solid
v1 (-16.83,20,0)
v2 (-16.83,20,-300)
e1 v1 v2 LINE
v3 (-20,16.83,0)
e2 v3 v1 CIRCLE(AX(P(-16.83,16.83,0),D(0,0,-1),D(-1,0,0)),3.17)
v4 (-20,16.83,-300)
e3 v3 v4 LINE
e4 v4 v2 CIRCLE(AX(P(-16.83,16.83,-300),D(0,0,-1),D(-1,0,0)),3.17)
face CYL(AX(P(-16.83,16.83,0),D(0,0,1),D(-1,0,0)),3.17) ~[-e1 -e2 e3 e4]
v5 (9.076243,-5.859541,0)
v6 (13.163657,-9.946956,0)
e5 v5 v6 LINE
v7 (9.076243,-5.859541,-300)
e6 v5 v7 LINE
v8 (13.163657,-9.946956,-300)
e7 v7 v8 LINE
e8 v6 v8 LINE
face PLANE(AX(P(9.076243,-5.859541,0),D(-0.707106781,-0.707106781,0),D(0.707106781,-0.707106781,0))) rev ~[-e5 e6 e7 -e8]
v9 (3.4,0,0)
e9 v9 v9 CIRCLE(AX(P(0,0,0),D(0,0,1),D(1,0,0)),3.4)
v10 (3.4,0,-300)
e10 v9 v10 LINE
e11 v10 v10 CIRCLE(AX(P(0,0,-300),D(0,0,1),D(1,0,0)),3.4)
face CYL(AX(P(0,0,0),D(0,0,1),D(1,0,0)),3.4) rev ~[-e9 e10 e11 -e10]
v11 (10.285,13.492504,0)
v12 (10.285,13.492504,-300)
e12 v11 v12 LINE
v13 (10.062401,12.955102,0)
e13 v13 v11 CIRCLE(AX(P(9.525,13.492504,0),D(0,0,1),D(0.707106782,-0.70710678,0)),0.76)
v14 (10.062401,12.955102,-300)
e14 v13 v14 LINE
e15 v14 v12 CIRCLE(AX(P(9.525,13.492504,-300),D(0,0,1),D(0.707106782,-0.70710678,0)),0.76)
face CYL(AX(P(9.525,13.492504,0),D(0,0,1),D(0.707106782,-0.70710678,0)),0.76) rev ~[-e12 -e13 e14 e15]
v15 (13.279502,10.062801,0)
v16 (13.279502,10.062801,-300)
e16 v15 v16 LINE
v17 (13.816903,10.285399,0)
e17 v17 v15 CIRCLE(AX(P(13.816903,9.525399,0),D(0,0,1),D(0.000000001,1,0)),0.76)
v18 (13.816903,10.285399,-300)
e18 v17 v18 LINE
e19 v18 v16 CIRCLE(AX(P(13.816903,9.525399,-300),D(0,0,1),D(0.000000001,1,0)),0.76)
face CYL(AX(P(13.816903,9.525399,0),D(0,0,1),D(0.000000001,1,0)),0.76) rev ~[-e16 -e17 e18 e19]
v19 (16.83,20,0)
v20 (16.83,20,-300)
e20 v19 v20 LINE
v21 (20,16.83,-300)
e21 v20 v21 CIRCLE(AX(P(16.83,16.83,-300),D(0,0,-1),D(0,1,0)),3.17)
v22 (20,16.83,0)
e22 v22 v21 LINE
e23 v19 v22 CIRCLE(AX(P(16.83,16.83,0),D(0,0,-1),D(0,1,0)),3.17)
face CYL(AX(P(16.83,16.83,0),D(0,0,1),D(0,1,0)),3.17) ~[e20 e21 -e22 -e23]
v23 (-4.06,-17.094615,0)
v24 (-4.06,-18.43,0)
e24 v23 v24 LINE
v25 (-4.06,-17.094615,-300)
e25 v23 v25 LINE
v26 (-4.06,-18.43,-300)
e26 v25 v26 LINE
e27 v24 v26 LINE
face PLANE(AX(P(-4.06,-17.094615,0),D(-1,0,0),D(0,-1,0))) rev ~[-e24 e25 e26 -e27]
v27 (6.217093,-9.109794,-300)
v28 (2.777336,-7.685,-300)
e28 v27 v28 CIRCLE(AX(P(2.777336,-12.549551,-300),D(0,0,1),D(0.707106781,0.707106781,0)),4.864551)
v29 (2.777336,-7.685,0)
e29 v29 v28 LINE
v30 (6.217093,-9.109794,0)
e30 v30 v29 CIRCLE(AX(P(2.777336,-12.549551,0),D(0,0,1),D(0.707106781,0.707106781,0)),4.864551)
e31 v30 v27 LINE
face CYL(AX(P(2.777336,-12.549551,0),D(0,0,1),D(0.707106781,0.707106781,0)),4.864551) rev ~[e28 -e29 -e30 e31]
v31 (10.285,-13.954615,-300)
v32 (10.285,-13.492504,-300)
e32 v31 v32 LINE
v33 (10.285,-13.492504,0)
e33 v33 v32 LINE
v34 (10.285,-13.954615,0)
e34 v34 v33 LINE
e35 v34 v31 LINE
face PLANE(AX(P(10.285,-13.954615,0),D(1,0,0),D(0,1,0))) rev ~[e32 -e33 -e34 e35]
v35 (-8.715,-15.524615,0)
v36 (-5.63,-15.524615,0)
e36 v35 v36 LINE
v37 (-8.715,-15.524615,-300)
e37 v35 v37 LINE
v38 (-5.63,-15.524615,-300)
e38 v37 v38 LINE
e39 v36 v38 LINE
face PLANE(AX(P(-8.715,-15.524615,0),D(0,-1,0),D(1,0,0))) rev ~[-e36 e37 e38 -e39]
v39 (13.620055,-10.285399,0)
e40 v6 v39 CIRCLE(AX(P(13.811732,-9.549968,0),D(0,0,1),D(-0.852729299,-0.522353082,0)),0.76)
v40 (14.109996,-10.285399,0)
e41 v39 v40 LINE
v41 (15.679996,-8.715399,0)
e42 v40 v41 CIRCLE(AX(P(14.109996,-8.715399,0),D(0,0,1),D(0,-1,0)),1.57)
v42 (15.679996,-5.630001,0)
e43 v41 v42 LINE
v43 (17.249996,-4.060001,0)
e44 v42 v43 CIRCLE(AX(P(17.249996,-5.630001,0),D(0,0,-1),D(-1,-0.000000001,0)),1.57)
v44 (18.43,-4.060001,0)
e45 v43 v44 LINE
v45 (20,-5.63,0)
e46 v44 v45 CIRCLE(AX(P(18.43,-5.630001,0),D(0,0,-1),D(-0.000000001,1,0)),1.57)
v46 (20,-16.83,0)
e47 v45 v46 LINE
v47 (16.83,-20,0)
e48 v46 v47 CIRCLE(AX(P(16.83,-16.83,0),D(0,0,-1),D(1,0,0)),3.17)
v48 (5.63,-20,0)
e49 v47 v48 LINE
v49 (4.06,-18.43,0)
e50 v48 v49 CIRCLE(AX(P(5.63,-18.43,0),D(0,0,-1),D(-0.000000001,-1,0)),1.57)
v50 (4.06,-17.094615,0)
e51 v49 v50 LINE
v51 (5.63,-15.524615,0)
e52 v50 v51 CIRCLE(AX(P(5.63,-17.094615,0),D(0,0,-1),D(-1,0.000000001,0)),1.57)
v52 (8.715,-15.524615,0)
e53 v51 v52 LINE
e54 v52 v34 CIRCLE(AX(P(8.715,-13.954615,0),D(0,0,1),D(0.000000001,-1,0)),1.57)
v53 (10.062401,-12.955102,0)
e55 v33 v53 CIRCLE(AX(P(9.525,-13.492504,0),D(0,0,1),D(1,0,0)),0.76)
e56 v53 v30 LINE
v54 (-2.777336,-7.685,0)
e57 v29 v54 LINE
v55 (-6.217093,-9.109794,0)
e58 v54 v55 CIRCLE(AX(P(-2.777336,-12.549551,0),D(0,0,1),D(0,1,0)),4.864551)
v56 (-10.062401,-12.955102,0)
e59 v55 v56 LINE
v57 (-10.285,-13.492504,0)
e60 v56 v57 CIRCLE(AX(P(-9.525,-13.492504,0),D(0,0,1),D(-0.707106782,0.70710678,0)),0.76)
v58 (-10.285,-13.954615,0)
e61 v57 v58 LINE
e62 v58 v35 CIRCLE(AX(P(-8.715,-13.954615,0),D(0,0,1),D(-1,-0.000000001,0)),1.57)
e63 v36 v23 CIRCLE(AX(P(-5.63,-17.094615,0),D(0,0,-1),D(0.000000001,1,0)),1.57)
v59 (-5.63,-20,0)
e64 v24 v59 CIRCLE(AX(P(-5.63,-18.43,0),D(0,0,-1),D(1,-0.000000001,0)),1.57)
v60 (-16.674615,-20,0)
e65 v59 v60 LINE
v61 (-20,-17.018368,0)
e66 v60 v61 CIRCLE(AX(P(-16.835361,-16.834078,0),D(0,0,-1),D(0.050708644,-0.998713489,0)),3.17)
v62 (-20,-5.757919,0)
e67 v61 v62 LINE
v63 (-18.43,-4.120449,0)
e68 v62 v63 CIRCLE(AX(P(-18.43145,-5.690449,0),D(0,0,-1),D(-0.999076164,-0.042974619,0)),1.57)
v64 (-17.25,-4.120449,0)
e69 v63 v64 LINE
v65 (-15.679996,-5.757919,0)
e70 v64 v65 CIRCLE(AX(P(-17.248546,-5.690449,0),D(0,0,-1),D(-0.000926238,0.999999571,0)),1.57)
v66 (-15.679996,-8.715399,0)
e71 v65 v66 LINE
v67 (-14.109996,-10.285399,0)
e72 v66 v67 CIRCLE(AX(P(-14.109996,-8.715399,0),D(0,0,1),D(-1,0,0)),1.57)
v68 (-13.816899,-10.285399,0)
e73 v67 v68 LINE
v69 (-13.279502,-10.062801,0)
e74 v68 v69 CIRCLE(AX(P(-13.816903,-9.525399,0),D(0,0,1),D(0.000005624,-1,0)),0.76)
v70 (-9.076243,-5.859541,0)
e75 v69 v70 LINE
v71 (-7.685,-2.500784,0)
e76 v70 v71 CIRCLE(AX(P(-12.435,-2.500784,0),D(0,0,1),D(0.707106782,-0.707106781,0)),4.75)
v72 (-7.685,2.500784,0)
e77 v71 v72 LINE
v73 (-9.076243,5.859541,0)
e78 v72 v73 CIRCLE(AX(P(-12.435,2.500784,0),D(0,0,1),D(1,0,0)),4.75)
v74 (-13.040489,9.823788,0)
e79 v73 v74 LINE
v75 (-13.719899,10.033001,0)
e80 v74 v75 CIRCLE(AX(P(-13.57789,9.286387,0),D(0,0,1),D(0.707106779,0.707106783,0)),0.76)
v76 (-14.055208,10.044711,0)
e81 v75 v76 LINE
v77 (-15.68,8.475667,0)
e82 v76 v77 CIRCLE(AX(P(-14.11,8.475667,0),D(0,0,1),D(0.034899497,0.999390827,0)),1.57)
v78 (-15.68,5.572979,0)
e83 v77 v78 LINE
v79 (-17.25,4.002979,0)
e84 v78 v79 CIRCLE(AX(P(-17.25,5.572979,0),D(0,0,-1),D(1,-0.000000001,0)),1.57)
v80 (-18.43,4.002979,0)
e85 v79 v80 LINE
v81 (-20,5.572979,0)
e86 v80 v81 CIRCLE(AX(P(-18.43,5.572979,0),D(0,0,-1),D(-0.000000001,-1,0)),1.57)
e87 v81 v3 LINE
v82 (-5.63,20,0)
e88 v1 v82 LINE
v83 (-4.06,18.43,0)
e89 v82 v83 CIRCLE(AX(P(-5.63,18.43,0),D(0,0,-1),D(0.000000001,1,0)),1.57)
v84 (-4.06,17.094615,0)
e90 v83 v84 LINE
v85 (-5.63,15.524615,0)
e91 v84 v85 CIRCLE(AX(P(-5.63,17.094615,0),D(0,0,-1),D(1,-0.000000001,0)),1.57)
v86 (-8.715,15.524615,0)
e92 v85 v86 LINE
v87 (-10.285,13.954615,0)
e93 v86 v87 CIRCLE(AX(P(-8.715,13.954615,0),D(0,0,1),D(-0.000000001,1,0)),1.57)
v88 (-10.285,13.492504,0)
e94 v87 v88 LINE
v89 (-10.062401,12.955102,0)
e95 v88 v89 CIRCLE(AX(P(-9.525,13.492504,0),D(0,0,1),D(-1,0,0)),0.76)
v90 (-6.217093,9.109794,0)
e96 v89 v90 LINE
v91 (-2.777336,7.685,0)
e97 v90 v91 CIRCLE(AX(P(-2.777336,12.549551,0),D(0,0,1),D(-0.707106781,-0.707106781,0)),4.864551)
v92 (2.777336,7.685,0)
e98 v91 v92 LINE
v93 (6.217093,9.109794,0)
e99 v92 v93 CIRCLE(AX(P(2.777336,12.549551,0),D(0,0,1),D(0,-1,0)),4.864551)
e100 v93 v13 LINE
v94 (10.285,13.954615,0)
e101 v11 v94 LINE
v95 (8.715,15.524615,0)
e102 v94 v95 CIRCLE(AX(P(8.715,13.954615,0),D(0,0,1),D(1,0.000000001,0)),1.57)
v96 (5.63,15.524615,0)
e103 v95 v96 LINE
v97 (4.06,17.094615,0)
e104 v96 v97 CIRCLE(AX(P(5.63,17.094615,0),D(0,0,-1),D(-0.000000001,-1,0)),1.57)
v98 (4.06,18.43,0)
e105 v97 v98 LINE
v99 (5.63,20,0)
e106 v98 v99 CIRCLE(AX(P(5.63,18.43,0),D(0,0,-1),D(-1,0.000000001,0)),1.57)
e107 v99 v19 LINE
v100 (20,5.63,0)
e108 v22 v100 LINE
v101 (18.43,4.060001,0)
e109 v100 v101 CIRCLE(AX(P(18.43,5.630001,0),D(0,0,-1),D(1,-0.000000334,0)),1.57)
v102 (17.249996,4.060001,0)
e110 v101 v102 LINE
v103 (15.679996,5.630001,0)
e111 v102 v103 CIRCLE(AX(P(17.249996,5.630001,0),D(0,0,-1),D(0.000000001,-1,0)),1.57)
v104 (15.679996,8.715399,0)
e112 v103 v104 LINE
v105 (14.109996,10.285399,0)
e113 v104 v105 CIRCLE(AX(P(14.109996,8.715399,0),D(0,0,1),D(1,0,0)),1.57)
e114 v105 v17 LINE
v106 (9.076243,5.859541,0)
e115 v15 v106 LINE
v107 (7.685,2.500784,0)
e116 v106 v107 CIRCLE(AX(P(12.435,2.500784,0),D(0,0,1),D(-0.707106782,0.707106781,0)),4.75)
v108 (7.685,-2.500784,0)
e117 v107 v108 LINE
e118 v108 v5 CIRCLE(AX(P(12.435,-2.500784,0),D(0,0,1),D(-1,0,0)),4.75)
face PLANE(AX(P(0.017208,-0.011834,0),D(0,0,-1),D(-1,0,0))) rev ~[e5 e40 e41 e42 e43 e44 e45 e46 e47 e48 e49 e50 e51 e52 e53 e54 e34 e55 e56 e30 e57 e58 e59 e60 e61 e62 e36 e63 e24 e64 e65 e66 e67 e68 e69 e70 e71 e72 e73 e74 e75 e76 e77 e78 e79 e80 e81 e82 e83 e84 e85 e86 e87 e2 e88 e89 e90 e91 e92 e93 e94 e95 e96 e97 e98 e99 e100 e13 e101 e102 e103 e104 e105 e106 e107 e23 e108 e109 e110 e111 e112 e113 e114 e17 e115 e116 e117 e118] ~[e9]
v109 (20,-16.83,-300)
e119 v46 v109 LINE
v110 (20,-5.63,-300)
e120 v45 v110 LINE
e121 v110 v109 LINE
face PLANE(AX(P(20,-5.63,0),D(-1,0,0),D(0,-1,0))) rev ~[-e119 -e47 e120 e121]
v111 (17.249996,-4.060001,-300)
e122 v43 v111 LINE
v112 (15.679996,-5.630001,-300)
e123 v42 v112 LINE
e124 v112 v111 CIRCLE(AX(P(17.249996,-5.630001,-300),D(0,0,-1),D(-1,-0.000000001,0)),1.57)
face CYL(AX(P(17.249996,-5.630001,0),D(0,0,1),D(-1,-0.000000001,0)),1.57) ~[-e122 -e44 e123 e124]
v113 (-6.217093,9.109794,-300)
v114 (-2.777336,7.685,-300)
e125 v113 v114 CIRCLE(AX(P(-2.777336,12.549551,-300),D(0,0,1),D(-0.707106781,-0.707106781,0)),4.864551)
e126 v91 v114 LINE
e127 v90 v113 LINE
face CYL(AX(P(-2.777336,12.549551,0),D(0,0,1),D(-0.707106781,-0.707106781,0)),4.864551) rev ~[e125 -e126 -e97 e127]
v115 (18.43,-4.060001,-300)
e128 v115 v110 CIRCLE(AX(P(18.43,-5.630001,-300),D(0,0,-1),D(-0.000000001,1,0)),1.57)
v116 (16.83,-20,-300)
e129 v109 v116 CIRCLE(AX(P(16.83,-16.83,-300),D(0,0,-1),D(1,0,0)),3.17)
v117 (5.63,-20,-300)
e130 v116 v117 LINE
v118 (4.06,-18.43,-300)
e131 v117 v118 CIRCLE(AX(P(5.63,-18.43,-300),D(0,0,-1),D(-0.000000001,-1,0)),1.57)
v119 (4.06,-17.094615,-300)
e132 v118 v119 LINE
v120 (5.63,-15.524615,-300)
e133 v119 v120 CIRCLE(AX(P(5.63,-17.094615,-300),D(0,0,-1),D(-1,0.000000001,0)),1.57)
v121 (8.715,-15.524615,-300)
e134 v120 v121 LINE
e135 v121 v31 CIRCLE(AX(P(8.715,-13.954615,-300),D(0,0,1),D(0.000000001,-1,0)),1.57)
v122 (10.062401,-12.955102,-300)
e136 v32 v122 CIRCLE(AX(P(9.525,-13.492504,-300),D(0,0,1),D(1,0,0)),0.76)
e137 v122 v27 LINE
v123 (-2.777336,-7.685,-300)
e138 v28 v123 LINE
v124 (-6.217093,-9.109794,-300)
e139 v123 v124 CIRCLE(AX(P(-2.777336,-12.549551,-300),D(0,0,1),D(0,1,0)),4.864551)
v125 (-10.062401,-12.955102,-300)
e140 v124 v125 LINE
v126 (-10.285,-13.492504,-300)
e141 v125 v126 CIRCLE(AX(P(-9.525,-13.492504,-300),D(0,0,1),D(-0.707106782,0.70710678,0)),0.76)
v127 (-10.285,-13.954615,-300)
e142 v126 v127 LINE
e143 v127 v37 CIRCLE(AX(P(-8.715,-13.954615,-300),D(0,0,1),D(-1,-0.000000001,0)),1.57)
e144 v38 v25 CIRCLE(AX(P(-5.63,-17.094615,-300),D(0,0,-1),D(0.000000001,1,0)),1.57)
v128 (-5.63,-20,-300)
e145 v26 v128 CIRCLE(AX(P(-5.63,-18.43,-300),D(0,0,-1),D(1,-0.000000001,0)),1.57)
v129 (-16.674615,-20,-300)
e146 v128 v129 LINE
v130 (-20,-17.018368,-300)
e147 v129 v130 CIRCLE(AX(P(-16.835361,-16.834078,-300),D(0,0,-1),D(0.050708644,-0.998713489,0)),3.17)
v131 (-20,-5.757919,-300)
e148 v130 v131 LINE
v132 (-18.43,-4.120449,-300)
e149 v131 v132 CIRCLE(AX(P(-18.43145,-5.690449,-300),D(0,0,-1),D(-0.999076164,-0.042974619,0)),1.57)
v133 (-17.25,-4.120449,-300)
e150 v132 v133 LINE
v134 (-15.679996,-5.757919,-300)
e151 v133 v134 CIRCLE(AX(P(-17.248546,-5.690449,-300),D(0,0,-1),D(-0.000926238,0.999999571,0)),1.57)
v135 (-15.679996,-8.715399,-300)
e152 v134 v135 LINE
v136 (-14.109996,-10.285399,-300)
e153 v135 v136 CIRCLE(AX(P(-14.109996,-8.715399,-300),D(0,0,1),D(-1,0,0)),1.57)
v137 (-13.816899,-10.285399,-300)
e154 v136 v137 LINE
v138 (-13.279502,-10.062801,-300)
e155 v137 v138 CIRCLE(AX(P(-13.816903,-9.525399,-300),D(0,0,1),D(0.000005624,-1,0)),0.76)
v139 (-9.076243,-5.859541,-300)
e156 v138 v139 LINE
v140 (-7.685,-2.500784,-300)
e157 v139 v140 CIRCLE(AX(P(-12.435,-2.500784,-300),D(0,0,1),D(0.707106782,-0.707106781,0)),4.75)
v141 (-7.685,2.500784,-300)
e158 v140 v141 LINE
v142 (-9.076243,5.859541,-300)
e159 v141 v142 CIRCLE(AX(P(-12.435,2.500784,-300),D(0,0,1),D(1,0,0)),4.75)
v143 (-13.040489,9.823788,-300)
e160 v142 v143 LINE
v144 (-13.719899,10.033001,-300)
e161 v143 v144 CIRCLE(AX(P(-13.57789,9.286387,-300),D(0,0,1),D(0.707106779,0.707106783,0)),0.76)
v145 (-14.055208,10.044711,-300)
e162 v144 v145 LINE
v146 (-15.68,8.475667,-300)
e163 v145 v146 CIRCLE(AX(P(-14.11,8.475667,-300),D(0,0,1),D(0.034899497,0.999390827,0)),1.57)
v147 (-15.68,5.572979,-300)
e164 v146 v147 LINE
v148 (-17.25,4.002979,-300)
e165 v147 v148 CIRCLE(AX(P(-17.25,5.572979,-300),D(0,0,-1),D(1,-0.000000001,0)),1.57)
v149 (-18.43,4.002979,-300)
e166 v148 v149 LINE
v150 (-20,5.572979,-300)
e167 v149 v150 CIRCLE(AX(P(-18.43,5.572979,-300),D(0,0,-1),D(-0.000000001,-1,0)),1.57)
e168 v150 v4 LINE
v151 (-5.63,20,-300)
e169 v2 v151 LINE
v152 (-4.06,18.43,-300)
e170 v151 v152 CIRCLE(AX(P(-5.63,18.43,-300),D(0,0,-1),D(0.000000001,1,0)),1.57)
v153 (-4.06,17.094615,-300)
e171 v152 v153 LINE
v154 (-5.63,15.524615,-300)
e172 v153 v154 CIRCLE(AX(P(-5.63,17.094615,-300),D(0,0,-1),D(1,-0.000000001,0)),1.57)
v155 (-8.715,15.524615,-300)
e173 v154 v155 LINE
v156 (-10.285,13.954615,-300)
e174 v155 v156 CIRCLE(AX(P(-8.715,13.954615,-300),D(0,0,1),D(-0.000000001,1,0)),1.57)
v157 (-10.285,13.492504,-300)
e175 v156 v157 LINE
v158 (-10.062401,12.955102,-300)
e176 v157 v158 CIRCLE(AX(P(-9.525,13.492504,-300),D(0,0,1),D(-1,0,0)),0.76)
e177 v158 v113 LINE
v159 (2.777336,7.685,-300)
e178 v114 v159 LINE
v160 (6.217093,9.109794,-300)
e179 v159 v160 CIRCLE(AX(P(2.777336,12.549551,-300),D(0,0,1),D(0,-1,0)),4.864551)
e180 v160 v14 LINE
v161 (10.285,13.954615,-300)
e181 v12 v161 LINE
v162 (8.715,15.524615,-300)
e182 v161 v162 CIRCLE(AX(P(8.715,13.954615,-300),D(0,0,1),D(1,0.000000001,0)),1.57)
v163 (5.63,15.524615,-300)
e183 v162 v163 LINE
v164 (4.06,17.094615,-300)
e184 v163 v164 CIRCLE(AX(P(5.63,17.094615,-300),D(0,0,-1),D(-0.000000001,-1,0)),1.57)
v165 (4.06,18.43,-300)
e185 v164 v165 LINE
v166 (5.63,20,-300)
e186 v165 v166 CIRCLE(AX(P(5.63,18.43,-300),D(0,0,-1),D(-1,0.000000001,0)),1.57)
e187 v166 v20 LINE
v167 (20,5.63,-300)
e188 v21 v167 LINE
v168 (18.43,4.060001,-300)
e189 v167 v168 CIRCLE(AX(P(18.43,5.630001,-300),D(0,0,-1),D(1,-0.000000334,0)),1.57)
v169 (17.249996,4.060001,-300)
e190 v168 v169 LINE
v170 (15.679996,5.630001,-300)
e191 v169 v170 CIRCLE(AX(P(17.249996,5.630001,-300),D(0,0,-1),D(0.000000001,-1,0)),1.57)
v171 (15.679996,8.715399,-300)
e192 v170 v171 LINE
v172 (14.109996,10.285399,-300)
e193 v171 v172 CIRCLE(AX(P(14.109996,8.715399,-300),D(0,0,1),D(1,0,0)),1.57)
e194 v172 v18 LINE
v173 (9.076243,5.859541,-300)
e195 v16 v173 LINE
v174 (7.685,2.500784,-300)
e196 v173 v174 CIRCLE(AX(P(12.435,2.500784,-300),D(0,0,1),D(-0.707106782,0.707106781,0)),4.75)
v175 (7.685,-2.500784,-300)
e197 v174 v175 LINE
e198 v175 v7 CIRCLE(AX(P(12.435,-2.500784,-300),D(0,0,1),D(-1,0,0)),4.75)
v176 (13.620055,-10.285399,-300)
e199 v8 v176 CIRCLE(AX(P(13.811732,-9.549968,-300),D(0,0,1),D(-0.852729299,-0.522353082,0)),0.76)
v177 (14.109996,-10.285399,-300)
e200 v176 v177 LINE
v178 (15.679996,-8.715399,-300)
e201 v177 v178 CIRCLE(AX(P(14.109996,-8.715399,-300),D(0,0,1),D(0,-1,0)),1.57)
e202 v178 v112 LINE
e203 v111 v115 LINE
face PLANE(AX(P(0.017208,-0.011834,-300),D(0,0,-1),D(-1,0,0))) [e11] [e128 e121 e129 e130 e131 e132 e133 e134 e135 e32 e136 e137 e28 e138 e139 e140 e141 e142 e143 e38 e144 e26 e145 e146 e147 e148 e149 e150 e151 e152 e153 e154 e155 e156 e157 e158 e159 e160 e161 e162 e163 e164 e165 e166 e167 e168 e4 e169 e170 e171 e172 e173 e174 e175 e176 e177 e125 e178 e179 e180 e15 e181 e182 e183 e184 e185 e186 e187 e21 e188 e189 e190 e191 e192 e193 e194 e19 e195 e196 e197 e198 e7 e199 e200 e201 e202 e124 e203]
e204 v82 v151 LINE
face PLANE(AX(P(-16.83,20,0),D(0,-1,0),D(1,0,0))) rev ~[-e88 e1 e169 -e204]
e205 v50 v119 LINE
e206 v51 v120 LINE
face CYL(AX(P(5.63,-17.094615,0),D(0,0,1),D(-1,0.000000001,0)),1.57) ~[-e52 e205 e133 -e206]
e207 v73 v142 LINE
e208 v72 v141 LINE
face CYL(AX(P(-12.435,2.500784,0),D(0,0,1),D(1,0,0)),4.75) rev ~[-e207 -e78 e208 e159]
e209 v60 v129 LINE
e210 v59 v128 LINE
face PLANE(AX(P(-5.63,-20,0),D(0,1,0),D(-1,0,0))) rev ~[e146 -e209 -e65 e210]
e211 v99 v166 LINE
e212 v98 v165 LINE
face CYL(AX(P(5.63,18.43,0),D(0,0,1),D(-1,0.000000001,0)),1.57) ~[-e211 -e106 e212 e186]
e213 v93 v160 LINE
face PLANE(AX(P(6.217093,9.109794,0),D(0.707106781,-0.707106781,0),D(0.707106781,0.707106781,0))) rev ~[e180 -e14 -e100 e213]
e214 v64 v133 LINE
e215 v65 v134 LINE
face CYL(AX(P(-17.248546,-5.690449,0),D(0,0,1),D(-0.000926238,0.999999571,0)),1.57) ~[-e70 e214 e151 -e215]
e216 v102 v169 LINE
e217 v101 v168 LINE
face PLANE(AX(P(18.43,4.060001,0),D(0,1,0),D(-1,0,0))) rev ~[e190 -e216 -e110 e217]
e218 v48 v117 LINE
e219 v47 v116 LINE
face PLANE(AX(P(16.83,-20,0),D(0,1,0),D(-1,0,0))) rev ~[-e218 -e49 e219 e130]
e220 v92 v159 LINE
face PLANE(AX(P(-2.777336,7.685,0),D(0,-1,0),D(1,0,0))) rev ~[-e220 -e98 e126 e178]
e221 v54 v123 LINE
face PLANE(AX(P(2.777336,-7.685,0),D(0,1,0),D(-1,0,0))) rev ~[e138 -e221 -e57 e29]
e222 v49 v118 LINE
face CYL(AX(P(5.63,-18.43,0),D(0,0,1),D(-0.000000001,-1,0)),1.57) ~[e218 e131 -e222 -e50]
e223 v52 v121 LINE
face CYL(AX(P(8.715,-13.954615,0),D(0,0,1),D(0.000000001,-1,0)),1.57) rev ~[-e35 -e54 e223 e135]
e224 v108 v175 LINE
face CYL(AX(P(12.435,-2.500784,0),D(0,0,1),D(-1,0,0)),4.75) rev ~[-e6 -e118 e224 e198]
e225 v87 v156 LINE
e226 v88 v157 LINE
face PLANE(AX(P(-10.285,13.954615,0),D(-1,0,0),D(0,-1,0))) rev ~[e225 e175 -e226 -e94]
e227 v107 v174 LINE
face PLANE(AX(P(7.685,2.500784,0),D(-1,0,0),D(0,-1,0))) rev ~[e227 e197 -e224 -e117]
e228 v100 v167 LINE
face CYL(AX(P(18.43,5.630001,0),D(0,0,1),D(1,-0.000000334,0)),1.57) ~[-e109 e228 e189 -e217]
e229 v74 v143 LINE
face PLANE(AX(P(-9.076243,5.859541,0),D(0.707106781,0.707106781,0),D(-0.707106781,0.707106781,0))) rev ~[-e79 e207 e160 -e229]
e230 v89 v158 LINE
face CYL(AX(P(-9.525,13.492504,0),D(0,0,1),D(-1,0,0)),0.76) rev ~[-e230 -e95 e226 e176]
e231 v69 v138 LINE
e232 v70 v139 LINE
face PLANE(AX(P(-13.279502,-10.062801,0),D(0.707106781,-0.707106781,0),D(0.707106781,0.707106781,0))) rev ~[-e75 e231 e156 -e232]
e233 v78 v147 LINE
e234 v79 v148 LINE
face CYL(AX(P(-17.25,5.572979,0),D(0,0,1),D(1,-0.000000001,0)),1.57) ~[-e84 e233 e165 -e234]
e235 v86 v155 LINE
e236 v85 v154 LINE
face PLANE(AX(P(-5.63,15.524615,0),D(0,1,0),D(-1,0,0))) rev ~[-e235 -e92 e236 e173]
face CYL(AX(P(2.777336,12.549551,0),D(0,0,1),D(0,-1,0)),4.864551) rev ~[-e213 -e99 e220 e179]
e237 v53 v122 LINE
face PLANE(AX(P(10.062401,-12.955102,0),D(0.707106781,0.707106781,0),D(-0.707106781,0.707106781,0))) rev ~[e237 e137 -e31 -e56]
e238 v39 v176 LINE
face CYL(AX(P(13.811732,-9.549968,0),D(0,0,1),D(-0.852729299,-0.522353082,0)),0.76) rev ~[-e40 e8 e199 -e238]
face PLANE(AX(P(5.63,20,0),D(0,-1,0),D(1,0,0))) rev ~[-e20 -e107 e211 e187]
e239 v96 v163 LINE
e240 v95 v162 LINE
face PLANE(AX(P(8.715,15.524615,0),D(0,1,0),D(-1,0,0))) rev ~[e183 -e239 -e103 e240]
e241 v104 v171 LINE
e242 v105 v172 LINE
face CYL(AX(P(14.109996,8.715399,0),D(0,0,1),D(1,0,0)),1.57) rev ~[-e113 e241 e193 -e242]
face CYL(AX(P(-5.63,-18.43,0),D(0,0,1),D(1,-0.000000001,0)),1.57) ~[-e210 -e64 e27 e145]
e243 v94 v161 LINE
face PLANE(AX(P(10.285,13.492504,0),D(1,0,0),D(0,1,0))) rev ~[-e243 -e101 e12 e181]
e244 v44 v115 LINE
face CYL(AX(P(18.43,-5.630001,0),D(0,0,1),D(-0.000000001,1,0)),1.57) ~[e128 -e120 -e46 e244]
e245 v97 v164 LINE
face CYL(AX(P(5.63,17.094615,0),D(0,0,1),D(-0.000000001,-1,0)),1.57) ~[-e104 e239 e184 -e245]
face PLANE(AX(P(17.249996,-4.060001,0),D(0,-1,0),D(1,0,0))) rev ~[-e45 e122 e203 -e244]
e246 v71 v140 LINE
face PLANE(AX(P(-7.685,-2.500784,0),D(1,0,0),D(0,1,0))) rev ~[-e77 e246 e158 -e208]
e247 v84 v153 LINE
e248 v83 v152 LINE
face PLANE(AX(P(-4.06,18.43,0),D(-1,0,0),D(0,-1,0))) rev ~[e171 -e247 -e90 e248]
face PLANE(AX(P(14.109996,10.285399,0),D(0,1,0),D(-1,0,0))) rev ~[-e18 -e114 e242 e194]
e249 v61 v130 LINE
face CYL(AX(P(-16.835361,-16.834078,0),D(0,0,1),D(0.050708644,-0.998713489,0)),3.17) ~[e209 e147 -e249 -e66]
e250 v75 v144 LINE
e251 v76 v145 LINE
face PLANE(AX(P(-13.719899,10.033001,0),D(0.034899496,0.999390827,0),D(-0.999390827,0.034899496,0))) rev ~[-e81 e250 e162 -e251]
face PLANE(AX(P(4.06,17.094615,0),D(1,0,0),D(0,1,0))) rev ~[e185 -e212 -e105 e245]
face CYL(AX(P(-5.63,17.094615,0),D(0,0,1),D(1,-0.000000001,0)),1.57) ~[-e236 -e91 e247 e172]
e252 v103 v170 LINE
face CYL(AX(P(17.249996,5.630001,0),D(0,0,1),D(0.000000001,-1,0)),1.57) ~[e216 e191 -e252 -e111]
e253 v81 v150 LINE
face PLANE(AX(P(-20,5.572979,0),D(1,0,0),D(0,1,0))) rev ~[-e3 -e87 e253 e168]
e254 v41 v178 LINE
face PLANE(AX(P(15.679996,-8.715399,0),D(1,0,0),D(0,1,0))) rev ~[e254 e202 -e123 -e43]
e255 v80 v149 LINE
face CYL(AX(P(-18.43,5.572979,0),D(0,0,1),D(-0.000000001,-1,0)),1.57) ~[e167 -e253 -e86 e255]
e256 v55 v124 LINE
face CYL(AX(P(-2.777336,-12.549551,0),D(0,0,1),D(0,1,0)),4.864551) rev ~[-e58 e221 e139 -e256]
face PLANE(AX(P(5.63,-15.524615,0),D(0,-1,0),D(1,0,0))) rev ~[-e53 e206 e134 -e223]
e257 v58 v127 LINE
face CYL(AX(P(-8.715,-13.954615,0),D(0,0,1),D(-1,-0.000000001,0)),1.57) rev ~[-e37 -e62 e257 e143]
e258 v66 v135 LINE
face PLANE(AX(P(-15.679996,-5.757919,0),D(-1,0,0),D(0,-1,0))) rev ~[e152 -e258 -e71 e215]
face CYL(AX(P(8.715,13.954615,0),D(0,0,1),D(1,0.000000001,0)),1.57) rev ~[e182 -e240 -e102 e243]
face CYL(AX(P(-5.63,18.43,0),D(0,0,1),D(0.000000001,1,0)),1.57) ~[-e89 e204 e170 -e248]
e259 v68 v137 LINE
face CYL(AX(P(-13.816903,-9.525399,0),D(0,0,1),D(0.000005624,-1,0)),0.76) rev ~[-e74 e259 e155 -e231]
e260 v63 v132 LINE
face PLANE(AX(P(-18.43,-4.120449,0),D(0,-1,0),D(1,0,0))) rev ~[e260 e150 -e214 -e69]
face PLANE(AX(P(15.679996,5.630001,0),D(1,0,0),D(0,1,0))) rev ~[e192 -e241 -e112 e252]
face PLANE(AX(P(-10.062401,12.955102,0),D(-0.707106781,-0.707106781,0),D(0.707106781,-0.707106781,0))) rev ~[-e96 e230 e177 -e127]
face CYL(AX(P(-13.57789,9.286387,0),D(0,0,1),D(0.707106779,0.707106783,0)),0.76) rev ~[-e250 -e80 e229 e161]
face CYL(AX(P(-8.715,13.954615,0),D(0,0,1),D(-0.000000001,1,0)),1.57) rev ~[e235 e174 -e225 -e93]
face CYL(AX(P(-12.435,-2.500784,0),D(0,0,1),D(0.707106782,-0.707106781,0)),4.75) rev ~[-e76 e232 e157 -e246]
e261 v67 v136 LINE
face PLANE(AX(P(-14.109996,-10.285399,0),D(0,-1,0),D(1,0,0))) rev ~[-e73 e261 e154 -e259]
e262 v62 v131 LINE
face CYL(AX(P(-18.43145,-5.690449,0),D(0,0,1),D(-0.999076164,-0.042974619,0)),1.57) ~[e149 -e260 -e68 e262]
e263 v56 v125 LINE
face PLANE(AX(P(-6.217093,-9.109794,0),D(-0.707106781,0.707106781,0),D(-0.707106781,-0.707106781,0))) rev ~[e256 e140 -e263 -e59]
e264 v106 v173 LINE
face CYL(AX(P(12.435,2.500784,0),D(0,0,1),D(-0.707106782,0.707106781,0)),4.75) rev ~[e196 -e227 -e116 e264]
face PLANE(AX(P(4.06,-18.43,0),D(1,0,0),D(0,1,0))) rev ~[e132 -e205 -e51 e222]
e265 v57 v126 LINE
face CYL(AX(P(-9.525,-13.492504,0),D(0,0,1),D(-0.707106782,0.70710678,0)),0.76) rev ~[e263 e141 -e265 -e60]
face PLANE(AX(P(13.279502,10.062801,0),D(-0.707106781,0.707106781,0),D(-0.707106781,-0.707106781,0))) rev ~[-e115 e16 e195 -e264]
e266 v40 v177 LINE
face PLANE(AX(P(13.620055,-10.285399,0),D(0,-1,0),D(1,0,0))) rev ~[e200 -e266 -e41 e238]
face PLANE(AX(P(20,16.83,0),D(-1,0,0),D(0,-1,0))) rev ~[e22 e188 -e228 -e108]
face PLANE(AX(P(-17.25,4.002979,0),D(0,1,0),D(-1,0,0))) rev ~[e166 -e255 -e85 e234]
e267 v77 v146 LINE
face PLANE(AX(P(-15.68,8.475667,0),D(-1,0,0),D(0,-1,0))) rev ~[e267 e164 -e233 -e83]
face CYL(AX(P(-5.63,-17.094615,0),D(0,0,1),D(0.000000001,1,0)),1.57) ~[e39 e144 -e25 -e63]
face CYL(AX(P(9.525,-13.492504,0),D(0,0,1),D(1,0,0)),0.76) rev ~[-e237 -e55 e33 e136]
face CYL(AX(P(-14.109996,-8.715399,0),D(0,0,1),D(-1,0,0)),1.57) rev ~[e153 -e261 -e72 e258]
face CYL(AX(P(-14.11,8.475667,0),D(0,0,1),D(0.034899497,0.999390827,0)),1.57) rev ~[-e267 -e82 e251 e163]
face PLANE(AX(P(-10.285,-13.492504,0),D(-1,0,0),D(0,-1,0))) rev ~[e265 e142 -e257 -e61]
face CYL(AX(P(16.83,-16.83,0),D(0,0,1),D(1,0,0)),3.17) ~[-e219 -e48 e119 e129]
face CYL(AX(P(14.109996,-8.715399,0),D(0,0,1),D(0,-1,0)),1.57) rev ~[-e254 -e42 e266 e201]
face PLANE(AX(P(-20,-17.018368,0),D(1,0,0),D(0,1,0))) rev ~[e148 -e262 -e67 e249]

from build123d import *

# Parameters (mm, degrees)
SKETCH1_R      = 3.4
EXTRUDE1_DEPTH = 300


with BuildPart() as part:
    # Sketch1 → Extrude1 (new body)
    with BuildSketch(Plane.XY):
        with BuildLine():
            Line((-8.715, -15.524615034), (-5.63, -15.524615034))
            ThreePointArc((-5.63, -15.524615034), (-4.519842354, -15.984457388), (-4.06, -17.094615034))
            Line((-4.06, -17.094615034), (-4.06, -18.43))
            ThreePointArc((-4.06, -18.43), (-4.519842354, -19.540157646), (-5.63, -20))
            Line((-5.63, -20), (-16.674615034, -20))
            ThreePointArc((-16.674615034, -20), (-18.951578385, -19.194274381), (-20, -17.018368134))
            Line((-20, -17.018368134), (-20, -5.757918808))
            ThreePointArc((-20, -5.757918808), (-19.564709668, -4.603883664), (-18.43, -4.120449326))
            Line((-18.43, -4.120449326), (-17.25, -4.120449326))
            ThreePointArc((-17.25, -4.120449326), (-16.115287682, -4.60388249), (-15.67999625, -5.757919334))
            Line((-15.67999625, -5.757919334), (-15.67999625, -8.715399492))
            ThreePointArc((-15.67999625, -8.715399492), (-15.220153896, -9.825557139), (-14.10999625, -10.285399492))
            Line((-14.10999625, -10.285399492), (-13.816898819, -10.285399492))
            ThreePointArc((-13.816898819, -10.285399492), (-13.526061711, -10.227547119), (-13.279501941, -10.062800646))
            Line((-13.279501941, -10.062800646), (-9.076242789, -5.859541495))
            ThreePointArc((-9.076242789, -5.859541495), (-8.046572221, -4.318530588), (-7.685, -2.500784284))
            Line((-7.685, -2.500784284), (-7.685, 2.500784284))
            ThreePointArc((-7.685, 2.500784284), (-8.046572221, 4.318530588), (-9.076242789, 5.859541495))
            Line((-9.076242789, 5.859541495), (-13.040489136, 9.823787841))
            ThreePointArc((-13.040489136, 9.823787841), (-13.354224618, 10.012729352), (-13.71989919, 10.033001362))
            Line((-13.71989919, 10.033001362), (-14.05520779, 10.044710596))
            ThreePointArc((-14.05520779, 10.044710596), (-15.200613642, 9.605030484), (-15.68, 8.475666998))
            Line((-15.68, 8.475666998), (-15.68, 5.572979049))
            ThreePointArc((-15.68, 5.572979049), (-16.139842354, 4.462821403), (-17.25, 4.002979049))
            Line((-17.25, 4.002979049), (-18.43, 4.002979049))
            ThreePointArc((-18.43, 4.002979049), (-19.540157646, 4.462821403), (-20, 5.572979049))
            Line((-20, 5.572979049), (-20, 13.004526564))
            Line((-20, 13.004526564), (-20, 16.83))
            ThreePointArc((-20, 16.83), (-19.071528496, 19.071528496), (-16.83, 20))
            Line((-16.83, 20), (-5.63, 20))
            ThreePointArc((-5.63, 20), (-4.519842354, 19.540157646), (-4.06, 18.43))
            Line((-4.06, 18.43), (-4.06, 17.094615034))
            ThreePointArc((-4.06, 17.094615034), (-4.519842354, 15.984457388), (-5.63, 15.524615034))
            Line((-5.63, 15.524615034), (-8.715, 15.524615034))
            ThreePointArc((-8.715, 15.524615034), (-9.825157646, 15.06477268), (-10.285, 13.954615034))
            Line((-10.285, 13.954615034), (-10.285, 13.492503602))
            ThreePointArc((-10.285, 13.492503602), (-10.227148445, 13.201664194), (-10.062401154, 12.955102448))
            Line((-10.062401154, 12.955102448), (-6.217092793, 9.109794088))
            ThreePointArc((-6.217092793, 9.109794088), (-4.63891877, 8.055291919), (-2.777335583, 7.685))
            Line((-2.777335583, 7.685), (2.777335583, 7.685))
            ThreePointArc((2.777335583, 7.685), (4.63891877, 8.055291919), (6.217092793, 9.109794088))
            Line((6.217092793, 9.109794088), (10.062401154, 12.955102448))
            ThreePointArc((10.062401154, 12.955102448), (10.227148445, 13.201664194), (10.285, 13.492503602))
            Line((10.285, 13.492503602), (10.285, 13.954615034))
            ThreePointArc((10.285, 13.954615034), (9.825157646, 15.06477268), (8.715, 15.524615034))
            Line((8.715, 15.524615034), (5.63, 15.524615034))
            ThreePointArc((5.63, 15.524615034), (4.519842354, 15.984457388), (4.06, 17.094615034))
            Line((4.06, 17.094615034), (4.06, 18.43))
            ThreePointArc((4.06, 18.43), (4.519842354, 19.540157646), (5.63, 20))
            Line((5.63, 20), (12.979635074, 20))
            Line((12.979635074, 20), (16.83, 20))
            ThreePointArc((16.83, 20), (19.071528496, 19.071528496), (20, 16.83))
            Line((20, 16.83), (20, 13.001098436))
            Line((20, 13.001098436), (20, 5.63))
            ThreePointArc((20, 5.63), (19.540157461, 4.519842693), (18.43, 4.060000526))
            Line((18.43, 4.060000526), (17.24999625, 4.060000526))
            ThreePointArc((17.24999625, 4.060000526), (16.139838603, 4.519842879), (15.67999625, 5.630000526))
            Line((15.67999625, 5.630000526), (15.67999625, 8.715399492))
            ThreePointArc((15.67999625, 8.715399492), (15.220153896, 9.825557139), (14.10999625, 10.285399492))
            Line((14.10999625, 10.285399492), (13.816903094, 10.285399492))
            ThreePointArc((13.816903094, 10.285399492), (13.526063686, 10.227547937), (13.279501941, 10.062800646))
            Line((13.279501941, 10.062800646), (9.076242789, 5.859541495))
            ThreePointArc((9.076242789, 5.859541495), (8.046572221, 4.318530588), (7.685, 2.500784284))
            Line((7.685, 2.500784284), (7.685, -2.500784284))
            ThreePointArc((7.685, -2.500784284), (8.046572221, -4.318530588), (9.076242789, -5.859541495))
            Line((9.076242789, -5.859541495), (13.163657296, -9.946956002))
            ThreePointArc((13.163657296, -9.946956002), (13.35903797, -10.160433474), (13.6200547, -10.285399492))
            Line((13.6200547, -10.285399492), (14.10999625, -10.285399492))
            ThreePointArc((14.10999625, -10.285399492), (15.220153896, -9.825557139), (15.67999625, -8.715399492))
            Line((15.67999625, -8.715399492), (15.67999625, -5.630000526))
            ThreePointArc((15.67999625, -5.630000526), (16.139838603, -4.519842879), (17.24999625, -4.060000526))
            Line((17.24999625, -4.060000526), (18.43, -4.060000526))
            ThreePointArc((18.43, -4.060000526), (19.540157461, -4.519842693), (20, -5.63))
            Line((20, -5.63), (20, -16.83))
            ThreePointArc((20, -16.83), (19.071528496, -19.071528496), (16.83, -20))
            Line((16.83, -20), (13, -20))
            Line((13, -20), (5.63, -20))
            ThreePointArc((5.63, -20), (4.519842354, -19.540157646), (4.06, -18.43))
            Line((4.06, -18.43), (4.06, -17.094615034))
            ThreePointArc((4.06, -17.094615034), (4.519842354, -15.984457388), (5.63, -15.524615034))
            Line((5.63, -15.524615034), (8.715, -15.524615034))
            ThreePointArc((8.715, -15.524615034), (9.825157646, -15.06477268), (10.285, -13.954615034))
            Line((10.285, -13.954615034), (10.285, -13.492503602))
            ThreePointArc((10.285, -13.492503602), (10.227148445, -13.201664194), (10.062401154, -12.955102448))
            Line((10.062401154, -12.955102448), (6.217092793, -9.109794088))
            ThreePointArc((6.217092793, -9.109794088), (4.63891877, -8.055291919), (2.777335583, -7.685))
            Line((2.777335583, -7.685), (-2.777335583, -7.685))
            ThreePointArc((-2.777335583, -7.685), (-4.63891877, -8.055291919), (-6.217092793, -9.109794088))
            Line((-6.217092793, -9.109794088), (-10.062401154, -12.955102448))
            ThreePointArc((-10.062401154, -12.955102448), (-10.227148445, -13.201664194), (-10.285, -13.492503602))
            Line((-10.285, -13.492503602), (-10.285, -13.954615034))
            ThreePointArc((-10.285, -13.954615034), (-9.825157646, -15.06477268), (-8.715, -15.524615034))
        make_face()
        Circle(SKETCH1_R, mode=Mode.SUBTRACT)
    extrude(amount=-EXTRUDE1_DEPTH)


solid = part.part
